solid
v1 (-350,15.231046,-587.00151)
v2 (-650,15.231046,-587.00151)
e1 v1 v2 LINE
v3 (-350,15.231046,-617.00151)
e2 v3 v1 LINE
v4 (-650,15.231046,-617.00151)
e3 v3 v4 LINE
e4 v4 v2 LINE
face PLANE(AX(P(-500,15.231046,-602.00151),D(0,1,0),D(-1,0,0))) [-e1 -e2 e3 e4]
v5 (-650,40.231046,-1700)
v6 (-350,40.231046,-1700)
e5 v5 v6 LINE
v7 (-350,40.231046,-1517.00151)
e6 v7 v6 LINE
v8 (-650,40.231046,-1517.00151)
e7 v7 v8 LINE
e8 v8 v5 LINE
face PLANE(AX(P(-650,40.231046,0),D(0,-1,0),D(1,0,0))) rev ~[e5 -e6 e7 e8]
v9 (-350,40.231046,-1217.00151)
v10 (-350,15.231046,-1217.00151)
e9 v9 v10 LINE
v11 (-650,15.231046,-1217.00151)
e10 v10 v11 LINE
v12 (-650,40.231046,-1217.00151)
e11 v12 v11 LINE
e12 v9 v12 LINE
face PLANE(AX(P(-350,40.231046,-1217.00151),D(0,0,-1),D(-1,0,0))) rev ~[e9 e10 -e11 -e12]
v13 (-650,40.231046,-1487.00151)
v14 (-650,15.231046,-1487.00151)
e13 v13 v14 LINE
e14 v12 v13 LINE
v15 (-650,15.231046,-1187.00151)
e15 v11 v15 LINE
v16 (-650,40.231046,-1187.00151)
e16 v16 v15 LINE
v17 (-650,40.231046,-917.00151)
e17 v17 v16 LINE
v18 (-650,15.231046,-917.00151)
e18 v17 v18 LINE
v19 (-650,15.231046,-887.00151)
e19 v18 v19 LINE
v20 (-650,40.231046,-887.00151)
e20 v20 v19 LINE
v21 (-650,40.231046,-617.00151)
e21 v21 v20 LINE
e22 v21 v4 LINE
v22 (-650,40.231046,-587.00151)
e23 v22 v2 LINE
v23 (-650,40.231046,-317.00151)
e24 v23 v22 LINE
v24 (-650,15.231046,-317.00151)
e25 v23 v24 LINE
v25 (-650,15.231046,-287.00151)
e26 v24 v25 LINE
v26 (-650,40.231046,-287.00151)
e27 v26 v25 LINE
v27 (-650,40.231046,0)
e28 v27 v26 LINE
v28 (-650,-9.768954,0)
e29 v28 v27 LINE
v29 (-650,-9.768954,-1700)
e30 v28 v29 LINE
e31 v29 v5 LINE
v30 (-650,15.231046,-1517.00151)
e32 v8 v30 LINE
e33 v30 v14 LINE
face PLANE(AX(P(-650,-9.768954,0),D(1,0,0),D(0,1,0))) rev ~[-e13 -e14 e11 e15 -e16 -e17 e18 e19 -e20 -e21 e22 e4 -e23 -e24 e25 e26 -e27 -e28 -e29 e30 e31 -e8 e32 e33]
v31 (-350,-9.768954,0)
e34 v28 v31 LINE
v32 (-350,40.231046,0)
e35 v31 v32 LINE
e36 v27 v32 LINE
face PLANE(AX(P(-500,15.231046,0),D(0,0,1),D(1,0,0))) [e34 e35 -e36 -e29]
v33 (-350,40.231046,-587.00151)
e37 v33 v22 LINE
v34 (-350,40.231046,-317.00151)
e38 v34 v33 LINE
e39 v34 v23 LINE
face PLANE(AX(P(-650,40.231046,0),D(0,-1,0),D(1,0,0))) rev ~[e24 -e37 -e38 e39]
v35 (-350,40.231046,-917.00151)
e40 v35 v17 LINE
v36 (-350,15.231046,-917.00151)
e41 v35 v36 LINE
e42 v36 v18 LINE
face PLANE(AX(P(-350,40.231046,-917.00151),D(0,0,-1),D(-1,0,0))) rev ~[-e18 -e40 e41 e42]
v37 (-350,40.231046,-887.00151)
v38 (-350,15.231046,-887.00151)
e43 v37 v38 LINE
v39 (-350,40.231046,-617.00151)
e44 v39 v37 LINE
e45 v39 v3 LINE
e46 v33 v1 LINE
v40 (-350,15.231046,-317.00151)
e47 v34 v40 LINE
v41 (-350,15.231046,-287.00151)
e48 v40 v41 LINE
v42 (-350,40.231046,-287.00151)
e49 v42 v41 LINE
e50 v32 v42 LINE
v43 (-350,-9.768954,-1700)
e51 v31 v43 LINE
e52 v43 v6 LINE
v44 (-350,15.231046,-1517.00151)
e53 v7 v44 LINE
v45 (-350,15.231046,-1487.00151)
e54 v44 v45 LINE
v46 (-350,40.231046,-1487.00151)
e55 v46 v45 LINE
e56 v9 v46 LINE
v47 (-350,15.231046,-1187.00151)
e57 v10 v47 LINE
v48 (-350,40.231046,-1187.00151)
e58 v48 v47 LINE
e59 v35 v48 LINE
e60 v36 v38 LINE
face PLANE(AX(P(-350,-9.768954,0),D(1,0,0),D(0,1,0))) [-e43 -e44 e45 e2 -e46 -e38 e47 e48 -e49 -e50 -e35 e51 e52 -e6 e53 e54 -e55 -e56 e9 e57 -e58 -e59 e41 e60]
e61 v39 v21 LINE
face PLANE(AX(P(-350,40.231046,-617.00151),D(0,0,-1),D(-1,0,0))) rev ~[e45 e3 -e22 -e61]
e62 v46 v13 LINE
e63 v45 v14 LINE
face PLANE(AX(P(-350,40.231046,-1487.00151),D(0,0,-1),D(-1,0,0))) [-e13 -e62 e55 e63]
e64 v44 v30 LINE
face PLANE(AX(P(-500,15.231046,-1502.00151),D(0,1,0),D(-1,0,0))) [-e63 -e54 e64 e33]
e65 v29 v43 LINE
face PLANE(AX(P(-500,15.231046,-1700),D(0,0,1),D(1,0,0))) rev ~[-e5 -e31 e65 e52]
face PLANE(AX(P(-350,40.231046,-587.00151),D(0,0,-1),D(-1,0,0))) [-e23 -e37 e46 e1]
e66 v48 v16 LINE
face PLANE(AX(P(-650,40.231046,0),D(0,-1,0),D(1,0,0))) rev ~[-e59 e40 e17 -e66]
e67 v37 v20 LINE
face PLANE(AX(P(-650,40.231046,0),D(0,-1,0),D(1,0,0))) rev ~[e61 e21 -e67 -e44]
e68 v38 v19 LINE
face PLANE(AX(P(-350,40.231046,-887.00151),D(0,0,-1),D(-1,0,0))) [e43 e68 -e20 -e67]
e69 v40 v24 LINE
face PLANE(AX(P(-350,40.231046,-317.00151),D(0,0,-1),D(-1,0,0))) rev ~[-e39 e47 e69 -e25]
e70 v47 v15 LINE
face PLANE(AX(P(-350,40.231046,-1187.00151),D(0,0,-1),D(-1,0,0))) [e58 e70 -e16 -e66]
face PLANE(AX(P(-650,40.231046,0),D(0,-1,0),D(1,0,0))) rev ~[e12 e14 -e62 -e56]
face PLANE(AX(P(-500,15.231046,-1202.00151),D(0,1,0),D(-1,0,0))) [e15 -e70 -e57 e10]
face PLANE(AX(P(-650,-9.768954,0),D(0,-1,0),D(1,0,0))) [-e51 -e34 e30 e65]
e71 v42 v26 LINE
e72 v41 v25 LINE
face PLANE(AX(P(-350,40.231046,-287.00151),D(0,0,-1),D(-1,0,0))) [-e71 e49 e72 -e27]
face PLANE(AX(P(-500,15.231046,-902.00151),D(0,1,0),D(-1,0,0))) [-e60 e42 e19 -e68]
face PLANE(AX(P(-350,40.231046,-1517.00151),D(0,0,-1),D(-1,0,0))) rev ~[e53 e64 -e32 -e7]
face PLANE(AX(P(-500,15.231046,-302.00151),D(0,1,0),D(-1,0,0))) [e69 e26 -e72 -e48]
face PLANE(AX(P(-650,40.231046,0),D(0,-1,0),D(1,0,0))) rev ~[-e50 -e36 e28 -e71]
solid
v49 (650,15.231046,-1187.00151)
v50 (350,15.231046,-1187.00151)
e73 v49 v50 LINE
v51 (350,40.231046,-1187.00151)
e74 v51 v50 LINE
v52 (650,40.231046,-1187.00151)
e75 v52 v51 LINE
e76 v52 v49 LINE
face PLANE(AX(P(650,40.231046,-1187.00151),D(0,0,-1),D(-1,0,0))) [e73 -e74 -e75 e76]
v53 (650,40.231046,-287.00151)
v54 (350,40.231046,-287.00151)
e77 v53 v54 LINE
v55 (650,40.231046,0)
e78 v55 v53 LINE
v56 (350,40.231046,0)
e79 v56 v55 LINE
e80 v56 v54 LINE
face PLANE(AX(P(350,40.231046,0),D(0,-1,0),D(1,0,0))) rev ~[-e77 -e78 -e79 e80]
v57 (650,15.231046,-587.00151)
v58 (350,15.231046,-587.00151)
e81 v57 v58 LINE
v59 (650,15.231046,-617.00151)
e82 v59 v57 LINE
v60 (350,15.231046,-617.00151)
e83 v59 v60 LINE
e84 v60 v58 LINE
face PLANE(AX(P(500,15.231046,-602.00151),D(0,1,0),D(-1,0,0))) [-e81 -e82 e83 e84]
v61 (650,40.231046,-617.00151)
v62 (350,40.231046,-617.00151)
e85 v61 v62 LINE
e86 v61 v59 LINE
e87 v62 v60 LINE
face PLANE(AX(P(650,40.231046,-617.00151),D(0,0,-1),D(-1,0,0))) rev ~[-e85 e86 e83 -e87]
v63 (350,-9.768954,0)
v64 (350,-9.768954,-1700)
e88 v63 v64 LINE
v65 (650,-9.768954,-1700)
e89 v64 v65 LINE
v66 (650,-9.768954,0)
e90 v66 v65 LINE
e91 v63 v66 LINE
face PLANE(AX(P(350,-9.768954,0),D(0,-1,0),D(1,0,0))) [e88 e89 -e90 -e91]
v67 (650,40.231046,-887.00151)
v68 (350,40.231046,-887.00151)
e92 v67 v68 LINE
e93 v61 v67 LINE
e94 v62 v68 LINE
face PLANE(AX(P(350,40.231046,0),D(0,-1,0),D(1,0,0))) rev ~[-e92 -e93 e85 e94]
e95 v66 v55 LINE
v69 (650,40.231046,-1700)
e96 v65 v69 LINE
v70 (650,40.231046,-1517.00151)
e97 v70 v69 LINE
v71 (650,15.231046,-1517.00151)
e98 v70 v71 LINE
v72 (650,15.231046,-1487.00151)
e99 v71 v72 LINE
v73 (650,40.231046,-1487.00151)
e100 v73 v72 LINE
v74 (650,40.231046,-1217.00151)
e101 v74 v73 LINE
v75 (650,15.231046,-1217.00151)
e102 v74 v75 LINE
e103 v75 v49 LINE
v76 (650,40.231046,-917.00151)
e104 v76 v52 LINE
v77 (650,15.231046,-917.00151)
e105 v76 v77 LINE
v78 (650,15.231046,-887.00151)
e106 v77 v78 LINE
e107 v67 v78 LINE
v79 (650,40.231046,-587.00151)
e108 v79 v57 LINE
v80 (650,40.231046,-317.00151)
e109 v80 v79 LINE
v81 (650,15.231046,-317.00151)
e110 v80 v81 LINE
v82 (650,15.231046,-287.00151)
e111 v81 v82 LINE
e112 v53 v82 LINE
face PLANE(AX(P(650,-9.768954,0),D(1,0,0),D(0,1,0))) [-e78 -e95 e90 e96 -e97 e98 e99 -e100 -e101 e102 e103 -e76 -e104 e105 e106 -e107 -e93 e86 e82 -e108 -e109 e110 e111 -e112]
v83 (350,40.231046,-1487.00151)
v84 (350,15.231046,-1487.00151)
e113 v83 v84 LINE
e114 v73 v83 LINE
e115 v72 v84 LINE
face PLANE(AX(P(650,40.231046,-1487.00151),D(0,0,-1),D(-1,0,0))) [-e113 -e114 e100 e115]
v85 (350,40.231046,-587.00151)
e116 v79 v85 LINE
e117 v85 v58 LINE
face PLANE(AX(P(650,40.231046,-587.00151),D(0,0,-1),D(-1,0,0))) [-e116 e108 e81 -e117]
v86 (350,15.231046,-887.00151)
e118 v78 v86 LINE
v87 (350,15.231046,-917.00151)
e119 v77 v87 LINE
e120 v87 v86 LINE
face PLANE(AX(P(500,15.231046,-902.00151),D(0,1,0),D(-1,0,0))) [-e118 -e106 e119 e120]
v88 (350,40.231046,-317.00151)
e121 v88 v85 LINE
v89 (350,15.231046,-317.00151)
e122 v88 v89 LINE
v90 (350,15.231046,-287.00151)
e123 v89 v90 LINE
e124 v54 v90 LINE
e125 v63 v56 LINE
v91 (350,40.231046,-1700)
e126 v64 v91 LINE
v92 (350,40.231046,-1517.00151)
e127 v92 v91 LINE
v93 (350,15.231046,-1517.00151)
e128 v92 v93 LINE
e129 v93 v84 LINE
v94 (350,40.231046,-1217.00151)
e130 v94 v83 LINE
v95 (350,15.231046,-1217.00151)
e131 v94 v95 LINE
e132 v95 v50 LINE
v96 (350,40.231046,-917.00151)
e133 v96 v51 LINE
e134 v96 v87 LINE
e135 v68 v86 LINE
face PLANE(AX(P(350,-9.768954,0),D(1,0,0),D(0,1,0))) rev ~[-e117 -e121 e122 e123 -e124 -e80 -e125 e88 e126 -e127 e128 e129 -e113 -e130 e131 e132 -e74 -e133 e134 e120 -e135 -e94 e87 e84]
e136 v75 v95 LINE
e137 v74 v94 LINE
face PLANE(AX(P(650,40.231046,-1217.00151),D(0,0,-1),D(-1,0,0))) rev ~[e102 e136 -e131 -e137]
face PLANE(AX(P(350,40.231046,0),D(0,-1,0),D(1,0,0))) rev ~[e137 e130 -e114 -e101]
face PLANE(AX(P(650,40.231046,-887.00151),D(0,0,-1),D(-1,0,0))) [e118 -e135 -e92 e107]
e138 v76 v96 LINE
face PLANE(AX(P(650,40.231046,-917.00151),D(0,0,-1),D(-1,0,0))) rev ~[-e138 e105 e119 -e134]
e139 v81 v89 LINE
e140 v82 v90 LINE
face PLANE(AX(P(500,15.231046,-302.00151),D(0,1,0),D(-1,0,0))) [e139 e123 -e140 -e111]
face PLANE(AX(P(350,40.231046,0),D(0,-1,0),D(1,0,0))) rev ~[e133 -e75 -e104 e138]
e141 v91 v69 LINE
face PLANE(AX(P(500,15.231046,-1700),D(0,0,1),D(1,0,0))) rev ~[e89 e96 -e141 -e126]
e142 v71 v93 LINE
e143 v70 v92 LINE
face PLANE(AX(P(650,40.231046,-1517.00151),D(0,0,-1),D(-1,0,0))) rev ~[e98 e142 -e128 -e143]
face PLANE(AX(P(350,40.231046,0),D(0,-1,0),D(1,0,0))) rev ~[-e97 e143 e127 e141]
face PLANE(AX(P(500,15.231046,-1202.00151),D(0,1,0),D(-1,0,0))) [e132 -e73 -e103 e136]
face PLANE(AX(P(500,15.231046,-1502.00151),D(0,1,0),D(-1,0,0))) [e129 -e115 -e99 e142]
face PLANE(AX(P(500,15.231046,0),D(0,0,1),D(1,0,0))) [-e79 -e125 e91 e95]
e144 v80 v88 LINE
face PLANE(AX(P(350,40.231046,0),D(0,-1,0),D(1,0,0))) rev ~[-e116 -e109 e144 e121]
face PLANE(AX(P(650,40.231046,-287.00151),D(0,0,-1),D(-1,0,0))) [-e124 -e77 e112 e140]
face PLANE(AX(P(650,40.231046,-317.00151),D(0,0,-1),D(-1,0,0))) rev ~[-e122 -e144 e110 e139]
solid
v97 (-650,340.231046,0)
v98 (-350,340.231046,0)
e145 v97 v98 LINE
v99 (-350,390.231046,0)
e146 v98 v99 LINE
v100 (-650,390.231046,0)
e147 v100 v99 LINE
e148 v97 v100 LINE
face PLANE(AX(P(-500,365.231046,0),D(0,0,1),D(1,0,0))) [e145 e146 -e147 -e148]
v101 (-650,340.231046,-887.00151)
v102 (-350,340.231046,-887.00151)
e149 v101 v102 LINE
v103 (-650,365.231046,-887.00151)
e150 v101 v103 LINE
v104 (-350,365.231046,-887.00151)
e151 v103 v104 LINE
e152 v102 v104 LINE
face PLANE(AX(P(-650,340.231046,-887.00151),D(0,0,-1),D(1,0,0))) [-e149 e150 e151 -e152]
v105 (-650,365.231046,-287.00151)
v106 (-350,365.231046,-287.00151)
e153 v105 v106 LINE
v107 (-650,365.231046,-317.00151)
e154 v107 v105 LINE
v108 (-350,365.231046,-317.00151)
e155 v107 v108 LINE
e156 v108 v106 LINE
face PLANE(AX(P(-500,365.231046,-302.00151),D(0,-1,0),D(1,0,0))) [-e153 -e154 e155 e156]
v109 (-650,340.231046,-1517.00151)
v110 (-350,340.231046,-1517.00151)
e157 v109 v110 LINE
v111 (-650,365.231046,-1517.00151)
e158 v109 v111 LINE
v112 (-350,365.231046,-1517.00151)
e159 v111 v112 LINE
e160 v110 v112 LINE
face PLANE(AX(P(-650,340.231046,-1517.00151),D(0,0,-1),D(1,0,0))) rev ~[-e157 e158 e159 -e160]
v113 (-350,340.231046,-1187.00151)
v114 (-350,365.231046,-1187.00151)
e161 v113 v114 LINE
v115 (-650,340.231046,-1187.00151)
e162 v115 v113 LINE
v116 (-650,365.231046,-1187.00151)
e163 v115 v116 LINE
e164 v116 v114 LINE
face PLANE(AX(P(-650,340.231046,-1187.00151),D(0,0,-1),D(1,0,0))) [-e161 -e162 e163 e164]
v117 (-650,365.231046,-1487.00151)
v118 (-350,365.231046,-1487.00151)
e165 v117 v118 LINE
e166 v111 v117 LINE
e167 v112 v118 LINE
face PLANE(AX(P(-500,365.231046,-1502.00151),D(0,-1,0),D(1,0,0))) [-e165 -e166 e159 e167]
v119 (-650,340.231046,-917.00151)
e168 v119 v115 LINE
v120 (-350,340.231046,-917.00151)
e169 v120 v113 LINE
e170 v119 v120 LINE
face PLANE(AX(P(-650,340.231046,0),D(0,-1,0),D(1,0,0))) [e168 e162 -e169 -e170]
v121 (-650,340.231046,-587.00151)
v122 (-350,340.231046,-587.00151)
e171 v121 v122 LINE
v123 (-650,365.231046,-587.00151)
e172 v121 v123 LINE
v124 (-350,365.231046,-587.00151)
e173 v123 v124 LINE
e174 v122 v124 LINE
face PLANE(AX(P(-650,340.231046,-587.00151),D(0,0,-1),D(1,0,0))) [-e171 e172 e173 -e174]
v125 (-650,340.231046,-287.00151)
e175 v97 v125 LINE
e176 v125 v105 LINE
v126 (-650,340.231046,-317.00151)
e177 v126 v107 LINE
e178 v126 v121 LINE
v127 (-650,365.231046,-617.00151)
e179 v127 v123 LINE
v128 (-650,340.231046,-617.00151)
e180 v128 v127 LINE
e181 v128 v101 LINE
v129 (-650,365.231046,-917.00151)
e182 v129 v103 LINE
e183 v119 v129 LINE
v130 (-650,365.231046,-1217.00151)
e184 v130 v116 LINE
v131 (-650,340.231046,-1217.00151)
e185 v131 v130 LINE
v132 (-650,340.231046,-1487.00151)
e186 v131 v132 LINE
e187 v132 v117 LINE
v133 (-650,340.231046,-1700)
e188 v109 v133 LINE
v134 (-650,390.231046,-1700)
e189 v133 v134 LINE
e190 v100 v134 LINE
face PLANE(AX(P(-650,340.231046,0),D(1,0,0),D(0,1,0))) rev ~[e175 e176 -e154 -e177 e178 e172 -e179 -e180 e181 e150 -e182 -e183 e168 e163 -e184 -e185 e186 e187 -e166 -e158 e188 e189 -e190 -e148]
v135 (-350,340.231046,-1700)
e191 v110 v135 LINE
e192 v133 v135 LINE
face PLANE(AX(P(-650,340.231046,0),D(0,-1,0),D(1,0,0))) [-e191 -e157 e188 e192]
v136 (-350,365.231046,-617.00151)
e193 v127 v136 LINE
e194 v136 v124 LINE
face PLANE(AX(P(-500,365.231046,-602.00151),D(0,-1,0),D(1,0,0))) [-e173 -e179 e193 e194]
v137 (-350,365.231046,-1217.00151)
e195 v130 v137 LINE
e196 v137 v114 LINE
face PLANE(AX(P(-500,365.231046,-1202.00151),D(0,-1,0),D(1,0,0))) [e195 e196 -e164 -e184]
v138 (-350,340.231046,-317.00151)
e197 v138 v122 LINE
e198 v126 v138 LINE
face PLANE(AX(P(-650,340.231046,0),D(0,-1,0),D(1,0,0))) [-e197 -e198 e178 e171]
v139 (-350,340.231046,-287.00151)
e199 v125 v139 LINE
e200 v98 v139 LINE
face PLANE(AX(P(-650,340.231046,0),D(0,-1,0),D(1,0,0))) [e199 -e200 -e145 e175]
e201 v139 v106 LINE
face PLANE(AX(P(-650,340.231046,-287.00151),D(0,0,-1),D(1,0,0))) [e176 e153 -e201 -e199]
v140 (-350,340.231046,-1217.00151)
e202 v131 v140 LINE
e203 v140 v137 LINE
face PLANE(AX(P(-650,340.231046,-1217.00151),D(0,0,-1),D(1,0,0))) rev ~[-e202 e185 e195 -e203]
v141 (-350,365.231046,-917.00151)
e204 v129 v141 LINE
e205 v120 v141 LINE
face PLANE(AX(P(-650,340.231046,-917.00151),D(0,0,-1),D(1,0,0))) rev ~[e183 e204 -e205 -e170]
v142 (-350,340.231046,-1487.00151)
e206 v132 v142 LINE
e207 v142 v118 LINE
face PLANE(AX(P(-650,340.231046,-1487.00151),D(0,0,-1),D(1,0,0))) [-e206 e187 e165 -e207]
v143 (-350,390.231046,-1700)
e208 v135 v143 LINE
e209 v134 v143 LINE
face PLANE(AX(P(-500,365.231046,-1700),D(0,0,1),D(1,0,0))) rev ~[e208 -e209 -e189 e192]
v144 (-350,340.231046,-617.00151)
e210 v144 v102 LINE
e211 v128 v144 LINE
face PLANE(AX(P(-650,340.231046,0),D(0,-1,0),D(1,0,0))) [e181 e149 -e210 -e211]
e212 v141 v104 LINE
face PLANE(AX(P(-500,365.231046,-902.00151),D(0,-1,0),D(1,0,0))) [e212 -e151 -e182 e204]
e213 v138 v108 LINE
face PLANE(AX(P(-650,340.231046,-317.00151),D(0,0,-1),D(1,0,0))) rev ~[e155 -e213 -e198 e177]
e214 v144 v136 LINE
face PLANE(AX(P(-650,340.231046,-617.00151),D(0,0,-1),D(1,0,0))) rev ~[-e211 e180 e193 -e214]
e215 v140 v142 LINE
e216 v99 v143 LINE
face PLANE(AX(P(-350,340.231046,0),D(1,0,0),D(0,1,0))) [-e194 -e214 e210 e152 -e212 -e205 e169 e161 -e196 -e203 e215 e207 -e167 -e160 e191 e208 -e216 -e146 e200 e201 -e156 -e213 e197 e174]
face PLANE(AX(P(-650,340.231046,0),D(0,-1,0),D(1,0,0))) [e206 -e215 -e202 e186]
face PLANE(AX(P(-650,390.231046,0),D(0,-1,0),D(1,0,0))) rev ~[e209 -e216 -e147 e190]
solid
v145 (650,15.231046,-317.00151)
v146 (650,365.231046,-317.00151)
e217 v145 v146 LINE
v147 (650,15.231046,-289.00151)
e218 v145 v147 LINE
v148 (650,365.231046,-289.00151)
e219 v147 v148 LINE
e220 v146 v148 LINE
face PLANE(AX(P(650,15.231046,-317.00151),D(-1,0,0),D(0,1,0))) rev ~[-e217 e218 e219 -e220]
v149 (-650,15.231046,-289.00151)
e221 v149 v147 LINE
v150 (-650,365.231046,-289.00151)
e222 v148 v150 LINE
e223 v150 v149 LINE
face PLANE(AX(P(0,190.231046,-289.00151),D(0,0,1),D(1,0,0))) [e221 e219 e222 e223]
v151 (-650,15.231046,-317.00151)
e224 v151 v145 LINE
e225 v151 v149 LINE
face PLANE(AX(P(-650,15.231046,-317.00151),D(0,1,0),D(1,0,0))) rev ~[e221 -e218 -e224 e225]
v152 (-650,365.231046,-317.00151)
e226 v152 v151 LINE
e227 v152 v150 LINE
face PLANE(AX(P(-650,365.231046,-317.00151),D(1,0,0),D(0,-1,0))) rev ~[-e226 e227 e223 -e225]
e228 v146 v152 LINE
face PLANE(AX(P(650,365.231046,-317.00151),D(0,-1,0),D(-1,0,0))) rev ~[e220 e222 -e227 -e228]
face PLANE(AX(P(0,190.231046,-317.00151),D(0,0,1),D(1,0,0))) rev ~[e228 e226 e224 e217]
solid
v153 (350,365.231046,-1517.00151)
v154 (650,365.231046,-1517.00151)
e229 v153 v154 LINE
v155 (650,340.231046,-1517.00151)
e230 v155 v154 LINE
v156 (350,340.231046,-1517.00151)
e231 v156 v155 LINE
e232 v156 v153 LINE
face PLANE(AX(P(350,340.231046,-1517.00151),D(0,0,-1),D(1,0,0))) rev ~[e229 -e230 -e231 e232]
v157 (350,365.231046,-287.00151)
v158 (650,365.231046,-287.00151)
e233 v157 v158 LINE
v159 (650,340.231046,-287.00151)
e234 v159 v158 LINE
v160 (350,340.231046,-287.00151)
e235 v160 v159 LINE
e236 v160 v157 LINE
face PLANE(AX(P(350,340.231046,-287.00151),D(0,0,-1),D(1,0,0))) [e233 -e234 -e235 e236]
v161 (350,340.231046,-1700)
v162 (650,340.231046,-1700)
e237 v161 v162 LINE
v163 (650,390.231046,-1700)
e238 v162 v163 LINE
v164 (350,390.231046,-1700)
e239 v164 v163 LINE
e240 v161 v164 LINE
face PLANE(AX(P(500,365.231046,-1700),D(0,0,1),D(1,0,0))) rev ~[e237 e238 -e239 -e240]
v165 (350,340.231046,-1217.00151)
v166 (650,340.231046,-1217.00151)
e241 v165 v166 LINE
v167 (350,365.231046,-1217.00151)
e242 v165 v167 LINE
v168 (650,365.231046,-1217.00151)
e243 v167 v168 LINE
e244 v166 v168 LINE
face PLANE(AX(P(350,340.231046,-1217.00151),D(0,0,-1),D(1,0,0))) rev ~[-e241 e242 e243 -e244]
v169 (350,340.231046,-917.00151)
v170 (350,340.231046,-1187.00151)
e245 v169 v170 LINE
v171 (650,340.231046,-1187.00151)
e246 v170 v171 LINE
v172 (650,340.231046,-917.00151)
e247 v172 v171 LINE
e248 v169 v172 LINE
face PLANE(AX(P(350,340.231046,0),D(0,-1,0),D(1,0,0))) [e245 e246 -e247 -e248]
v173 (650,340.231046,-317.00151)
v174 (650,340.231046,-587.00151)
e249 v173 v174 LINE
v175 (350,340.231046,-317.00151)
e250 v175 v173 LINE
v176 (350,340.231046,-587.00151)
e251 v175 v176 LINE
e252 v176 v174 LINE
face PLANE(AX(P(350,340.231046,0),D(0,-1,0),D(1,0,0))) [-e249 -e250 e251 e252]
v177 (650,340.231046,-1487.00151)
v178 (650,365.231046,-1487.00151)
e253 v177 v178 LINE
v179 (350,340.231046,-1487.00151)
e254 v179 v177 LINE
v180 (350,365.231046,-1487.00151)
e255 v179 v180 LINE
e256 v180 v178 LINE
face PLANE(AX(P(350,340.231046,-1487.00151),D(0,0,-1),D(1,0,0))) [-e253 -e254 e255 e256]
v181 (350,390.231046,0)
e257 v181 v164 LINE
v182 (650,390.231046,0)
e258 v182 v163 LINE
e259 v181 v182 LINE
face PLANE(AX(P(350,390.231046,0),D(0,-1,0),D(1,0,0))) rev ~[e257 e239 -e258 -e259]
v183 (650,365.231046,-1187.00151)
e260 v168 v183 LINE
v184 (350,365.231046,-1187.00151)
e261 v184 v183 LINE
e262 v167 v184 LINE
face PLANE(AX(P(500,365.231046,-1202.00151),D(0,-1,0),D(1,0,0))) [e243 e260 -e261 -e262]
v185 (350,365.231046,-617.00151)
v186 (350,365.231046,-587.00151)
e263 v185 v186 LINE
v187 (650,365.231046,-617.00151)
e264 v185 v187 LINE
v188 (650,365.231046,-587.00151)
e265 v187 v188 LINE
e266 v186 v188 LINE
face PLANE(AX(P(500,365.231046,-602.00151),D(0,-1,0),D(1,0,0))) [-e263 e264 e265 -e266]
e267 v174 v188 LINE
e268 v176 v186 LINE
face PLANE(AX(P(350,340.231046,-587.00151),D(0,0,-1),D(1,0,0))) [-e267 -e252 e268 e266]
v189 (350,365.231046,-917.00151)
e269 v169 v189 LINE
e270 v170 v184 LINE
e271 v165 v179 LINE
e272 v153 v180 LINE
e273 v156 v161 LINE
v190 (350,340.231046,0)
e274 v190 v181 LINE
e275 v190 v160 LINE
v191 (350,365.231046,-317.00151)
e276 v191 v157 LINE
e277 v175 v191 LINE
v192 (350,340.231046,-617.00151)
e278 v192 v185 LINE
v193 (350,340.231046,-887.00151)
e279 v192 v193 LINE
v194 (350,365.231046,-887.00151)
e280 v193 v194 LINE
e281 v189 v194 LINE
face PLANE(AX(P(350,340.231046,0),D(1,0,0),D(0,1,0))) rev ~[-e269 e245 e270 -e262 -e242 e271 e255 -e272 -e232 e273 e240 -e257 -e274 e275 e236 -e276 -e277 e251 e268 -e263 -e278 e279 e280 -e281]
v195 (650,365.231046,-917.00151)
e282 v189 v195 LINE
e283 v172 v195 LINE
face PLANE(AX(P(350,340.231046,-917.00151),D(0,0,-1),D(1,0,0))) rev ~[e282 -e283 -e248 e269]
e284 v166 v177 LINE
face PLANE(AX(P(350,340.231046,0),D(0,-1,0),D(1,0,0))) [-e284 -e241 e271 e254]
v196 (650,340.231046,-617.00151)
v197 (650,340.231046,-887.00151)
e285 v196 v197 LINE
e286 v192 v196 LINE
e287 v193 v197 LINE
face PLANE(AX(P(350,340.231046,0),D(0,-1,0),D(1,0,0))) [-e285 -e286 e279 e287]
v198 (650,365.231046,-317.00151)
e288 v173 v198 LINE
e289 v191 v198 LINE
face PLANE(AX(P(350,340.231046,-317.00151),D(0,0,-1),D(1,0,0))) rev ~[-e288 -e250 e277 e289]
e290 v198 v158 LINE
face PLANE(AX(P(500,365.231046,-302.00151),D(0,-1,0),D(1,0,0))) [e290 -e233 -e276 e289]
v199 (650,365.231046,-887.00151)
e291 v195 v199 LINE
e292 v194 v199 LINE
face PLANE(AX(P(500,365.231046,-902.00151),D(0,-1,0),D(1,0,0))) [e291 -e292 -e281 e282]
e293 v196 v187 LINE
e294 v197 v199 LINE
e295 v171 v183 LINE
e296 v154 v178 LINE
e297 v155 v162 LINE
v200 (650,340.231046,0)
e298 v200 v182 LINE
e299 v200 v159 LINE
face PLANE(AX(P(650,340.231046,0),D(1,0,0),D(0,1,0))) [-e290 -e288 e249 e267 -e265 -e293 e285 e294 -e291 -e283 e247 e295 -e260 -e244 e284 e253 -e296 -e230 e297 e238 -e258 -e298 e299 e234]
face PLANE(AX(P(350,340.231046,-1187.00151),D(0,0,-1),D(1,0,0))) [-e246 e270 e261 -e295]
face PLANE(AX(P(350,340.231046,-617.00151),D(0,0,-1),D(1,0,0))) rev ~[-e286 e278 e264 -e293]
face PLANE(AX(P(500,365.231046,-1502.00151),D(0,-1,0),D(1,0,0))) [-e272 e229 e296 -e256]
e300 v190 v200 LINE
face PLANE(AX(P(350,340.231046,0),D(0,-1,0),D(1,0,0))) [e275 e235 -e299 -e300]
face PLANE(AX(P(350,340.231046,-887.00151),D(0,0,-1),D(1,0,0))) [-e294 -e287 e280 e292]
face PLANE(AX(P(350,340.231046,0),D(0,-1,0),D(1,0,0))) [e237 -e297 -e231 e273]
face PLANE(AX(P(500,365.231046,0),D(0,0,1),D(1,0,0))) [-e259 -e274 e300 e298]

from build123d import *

# Parameters (mm, degrees)
F0_W     = 300
F0_H     = 50
F1_DEPTH = 1700
F2_W     = 300
F2_H     = 30
F3_DEPTH = 25
F4_W     = 300
F4_H     = 30
F6_DEPTH = 25
F7_DEPTH = 28


with BuildPart() as f1:
    # F0 (on Top) → F1 (new body)
    with BuildSketch(Plane.XY):
        with Locations((-500, 15.231046)):
            Rectangle(F0_W, F0_H)
        with Locations((500, 15.231046)):
            Rectangle(F0_W, F0_H)
        with Locations((-500, 365.231046)):
            Rectangle(F0_W, F0_H)
        with Locations((500, 365.231046)):
            Rectangle(F0_W, F0_H)
    extrude(amount=-F1_DEPTH)

    # F2 (on face) → F3 (cut)
    with BuildSketch(Plane.XZ.offset(-340.231046)):
        with Locations((500, -1502.00151)):
            Rectangle(F2_W, F2_H)
        with Locations((500, -1202.00151)):
            Rectangle(F2_W, F2_H)
        with Locations((500, -902.00151)):
            Rectangle(F2_W, F2_H)
        with Locations((500, -602.00151)):
            Rectangle(F2_W, F2_H)
        with Locations((500, -302.00151)):
            Rectangle(F2_W, F2_H)
        with Locations((-500, -1502.00151)):
            Rectangle(F2_W, F2_H)
        with Locations((-500, -1202.00151)):
            Rectangle(F2_W, F2_H)
        with Locations((-500, -602.00151)):
            Rectangle(F2_W, F2_H)
        with Locations((-500, -302.00151)):
            Rectangle(F2_W, F2_H)
        with Locations((-500, -902.00151)):
            Rectangle(F2_W, F2_H)
    extrude(amount=-F3_DEPTH, mode=Mode.SUBTRACT)

    # F4 (on face) → F6 (cut)
    with BuildSketch(Plane(origin=(0, 40.231046, 0), x_dir=(-1, 0, 0), z_dir=(0, 1, 0))):
        with Locations((500, -1502.00151)):
            Rectangle(F4_W, F4_H)
        with Locations((500, -1202.00151)):
            Rectangle(F4_W, F4_H)
        with Locations((500, -902.00151)):
            Rectangle(F4_W, F4_H)
        with Locations((500, -602.00151)):
            Rectangle(F4_W, F4_H)
        with Locations((500, -302.00151)):
            Rectangle(F4_W, F4_H)
        with Locations((-500, -1502.00151)):
            Rectangle(F4_W, F4_H)
        with Locations((-500, -1202.00151)):
            Rectangle(F4_W, F4_H)
        with Locations((-500, -302.00151)):
            Rectangle(F4_W, F4_H)
        with Locations((-500, -602.00151)):
            Rectangle(F4_W, F4_H)
        with Locations((-500, -902.00151)):
            Rectangle(F4_W, F4_H)
    extrude(amount=-F6_DEPTH, mode=Mode.SUBTRACT)


with BuildPart() as f7:
    # F5 (on face) → F7 (new body)
    with BuildSketch(Plane.XY.offset(-317.00151)):
        Polygon((650, 15.231046), (650, 340.231046), (650, 365.231046), (-650, 365.231046), (-650, 15.231046), align=None)
    extrude(amount=F7_DEPTH)


solid = Compound([f1.part, f7.part])
